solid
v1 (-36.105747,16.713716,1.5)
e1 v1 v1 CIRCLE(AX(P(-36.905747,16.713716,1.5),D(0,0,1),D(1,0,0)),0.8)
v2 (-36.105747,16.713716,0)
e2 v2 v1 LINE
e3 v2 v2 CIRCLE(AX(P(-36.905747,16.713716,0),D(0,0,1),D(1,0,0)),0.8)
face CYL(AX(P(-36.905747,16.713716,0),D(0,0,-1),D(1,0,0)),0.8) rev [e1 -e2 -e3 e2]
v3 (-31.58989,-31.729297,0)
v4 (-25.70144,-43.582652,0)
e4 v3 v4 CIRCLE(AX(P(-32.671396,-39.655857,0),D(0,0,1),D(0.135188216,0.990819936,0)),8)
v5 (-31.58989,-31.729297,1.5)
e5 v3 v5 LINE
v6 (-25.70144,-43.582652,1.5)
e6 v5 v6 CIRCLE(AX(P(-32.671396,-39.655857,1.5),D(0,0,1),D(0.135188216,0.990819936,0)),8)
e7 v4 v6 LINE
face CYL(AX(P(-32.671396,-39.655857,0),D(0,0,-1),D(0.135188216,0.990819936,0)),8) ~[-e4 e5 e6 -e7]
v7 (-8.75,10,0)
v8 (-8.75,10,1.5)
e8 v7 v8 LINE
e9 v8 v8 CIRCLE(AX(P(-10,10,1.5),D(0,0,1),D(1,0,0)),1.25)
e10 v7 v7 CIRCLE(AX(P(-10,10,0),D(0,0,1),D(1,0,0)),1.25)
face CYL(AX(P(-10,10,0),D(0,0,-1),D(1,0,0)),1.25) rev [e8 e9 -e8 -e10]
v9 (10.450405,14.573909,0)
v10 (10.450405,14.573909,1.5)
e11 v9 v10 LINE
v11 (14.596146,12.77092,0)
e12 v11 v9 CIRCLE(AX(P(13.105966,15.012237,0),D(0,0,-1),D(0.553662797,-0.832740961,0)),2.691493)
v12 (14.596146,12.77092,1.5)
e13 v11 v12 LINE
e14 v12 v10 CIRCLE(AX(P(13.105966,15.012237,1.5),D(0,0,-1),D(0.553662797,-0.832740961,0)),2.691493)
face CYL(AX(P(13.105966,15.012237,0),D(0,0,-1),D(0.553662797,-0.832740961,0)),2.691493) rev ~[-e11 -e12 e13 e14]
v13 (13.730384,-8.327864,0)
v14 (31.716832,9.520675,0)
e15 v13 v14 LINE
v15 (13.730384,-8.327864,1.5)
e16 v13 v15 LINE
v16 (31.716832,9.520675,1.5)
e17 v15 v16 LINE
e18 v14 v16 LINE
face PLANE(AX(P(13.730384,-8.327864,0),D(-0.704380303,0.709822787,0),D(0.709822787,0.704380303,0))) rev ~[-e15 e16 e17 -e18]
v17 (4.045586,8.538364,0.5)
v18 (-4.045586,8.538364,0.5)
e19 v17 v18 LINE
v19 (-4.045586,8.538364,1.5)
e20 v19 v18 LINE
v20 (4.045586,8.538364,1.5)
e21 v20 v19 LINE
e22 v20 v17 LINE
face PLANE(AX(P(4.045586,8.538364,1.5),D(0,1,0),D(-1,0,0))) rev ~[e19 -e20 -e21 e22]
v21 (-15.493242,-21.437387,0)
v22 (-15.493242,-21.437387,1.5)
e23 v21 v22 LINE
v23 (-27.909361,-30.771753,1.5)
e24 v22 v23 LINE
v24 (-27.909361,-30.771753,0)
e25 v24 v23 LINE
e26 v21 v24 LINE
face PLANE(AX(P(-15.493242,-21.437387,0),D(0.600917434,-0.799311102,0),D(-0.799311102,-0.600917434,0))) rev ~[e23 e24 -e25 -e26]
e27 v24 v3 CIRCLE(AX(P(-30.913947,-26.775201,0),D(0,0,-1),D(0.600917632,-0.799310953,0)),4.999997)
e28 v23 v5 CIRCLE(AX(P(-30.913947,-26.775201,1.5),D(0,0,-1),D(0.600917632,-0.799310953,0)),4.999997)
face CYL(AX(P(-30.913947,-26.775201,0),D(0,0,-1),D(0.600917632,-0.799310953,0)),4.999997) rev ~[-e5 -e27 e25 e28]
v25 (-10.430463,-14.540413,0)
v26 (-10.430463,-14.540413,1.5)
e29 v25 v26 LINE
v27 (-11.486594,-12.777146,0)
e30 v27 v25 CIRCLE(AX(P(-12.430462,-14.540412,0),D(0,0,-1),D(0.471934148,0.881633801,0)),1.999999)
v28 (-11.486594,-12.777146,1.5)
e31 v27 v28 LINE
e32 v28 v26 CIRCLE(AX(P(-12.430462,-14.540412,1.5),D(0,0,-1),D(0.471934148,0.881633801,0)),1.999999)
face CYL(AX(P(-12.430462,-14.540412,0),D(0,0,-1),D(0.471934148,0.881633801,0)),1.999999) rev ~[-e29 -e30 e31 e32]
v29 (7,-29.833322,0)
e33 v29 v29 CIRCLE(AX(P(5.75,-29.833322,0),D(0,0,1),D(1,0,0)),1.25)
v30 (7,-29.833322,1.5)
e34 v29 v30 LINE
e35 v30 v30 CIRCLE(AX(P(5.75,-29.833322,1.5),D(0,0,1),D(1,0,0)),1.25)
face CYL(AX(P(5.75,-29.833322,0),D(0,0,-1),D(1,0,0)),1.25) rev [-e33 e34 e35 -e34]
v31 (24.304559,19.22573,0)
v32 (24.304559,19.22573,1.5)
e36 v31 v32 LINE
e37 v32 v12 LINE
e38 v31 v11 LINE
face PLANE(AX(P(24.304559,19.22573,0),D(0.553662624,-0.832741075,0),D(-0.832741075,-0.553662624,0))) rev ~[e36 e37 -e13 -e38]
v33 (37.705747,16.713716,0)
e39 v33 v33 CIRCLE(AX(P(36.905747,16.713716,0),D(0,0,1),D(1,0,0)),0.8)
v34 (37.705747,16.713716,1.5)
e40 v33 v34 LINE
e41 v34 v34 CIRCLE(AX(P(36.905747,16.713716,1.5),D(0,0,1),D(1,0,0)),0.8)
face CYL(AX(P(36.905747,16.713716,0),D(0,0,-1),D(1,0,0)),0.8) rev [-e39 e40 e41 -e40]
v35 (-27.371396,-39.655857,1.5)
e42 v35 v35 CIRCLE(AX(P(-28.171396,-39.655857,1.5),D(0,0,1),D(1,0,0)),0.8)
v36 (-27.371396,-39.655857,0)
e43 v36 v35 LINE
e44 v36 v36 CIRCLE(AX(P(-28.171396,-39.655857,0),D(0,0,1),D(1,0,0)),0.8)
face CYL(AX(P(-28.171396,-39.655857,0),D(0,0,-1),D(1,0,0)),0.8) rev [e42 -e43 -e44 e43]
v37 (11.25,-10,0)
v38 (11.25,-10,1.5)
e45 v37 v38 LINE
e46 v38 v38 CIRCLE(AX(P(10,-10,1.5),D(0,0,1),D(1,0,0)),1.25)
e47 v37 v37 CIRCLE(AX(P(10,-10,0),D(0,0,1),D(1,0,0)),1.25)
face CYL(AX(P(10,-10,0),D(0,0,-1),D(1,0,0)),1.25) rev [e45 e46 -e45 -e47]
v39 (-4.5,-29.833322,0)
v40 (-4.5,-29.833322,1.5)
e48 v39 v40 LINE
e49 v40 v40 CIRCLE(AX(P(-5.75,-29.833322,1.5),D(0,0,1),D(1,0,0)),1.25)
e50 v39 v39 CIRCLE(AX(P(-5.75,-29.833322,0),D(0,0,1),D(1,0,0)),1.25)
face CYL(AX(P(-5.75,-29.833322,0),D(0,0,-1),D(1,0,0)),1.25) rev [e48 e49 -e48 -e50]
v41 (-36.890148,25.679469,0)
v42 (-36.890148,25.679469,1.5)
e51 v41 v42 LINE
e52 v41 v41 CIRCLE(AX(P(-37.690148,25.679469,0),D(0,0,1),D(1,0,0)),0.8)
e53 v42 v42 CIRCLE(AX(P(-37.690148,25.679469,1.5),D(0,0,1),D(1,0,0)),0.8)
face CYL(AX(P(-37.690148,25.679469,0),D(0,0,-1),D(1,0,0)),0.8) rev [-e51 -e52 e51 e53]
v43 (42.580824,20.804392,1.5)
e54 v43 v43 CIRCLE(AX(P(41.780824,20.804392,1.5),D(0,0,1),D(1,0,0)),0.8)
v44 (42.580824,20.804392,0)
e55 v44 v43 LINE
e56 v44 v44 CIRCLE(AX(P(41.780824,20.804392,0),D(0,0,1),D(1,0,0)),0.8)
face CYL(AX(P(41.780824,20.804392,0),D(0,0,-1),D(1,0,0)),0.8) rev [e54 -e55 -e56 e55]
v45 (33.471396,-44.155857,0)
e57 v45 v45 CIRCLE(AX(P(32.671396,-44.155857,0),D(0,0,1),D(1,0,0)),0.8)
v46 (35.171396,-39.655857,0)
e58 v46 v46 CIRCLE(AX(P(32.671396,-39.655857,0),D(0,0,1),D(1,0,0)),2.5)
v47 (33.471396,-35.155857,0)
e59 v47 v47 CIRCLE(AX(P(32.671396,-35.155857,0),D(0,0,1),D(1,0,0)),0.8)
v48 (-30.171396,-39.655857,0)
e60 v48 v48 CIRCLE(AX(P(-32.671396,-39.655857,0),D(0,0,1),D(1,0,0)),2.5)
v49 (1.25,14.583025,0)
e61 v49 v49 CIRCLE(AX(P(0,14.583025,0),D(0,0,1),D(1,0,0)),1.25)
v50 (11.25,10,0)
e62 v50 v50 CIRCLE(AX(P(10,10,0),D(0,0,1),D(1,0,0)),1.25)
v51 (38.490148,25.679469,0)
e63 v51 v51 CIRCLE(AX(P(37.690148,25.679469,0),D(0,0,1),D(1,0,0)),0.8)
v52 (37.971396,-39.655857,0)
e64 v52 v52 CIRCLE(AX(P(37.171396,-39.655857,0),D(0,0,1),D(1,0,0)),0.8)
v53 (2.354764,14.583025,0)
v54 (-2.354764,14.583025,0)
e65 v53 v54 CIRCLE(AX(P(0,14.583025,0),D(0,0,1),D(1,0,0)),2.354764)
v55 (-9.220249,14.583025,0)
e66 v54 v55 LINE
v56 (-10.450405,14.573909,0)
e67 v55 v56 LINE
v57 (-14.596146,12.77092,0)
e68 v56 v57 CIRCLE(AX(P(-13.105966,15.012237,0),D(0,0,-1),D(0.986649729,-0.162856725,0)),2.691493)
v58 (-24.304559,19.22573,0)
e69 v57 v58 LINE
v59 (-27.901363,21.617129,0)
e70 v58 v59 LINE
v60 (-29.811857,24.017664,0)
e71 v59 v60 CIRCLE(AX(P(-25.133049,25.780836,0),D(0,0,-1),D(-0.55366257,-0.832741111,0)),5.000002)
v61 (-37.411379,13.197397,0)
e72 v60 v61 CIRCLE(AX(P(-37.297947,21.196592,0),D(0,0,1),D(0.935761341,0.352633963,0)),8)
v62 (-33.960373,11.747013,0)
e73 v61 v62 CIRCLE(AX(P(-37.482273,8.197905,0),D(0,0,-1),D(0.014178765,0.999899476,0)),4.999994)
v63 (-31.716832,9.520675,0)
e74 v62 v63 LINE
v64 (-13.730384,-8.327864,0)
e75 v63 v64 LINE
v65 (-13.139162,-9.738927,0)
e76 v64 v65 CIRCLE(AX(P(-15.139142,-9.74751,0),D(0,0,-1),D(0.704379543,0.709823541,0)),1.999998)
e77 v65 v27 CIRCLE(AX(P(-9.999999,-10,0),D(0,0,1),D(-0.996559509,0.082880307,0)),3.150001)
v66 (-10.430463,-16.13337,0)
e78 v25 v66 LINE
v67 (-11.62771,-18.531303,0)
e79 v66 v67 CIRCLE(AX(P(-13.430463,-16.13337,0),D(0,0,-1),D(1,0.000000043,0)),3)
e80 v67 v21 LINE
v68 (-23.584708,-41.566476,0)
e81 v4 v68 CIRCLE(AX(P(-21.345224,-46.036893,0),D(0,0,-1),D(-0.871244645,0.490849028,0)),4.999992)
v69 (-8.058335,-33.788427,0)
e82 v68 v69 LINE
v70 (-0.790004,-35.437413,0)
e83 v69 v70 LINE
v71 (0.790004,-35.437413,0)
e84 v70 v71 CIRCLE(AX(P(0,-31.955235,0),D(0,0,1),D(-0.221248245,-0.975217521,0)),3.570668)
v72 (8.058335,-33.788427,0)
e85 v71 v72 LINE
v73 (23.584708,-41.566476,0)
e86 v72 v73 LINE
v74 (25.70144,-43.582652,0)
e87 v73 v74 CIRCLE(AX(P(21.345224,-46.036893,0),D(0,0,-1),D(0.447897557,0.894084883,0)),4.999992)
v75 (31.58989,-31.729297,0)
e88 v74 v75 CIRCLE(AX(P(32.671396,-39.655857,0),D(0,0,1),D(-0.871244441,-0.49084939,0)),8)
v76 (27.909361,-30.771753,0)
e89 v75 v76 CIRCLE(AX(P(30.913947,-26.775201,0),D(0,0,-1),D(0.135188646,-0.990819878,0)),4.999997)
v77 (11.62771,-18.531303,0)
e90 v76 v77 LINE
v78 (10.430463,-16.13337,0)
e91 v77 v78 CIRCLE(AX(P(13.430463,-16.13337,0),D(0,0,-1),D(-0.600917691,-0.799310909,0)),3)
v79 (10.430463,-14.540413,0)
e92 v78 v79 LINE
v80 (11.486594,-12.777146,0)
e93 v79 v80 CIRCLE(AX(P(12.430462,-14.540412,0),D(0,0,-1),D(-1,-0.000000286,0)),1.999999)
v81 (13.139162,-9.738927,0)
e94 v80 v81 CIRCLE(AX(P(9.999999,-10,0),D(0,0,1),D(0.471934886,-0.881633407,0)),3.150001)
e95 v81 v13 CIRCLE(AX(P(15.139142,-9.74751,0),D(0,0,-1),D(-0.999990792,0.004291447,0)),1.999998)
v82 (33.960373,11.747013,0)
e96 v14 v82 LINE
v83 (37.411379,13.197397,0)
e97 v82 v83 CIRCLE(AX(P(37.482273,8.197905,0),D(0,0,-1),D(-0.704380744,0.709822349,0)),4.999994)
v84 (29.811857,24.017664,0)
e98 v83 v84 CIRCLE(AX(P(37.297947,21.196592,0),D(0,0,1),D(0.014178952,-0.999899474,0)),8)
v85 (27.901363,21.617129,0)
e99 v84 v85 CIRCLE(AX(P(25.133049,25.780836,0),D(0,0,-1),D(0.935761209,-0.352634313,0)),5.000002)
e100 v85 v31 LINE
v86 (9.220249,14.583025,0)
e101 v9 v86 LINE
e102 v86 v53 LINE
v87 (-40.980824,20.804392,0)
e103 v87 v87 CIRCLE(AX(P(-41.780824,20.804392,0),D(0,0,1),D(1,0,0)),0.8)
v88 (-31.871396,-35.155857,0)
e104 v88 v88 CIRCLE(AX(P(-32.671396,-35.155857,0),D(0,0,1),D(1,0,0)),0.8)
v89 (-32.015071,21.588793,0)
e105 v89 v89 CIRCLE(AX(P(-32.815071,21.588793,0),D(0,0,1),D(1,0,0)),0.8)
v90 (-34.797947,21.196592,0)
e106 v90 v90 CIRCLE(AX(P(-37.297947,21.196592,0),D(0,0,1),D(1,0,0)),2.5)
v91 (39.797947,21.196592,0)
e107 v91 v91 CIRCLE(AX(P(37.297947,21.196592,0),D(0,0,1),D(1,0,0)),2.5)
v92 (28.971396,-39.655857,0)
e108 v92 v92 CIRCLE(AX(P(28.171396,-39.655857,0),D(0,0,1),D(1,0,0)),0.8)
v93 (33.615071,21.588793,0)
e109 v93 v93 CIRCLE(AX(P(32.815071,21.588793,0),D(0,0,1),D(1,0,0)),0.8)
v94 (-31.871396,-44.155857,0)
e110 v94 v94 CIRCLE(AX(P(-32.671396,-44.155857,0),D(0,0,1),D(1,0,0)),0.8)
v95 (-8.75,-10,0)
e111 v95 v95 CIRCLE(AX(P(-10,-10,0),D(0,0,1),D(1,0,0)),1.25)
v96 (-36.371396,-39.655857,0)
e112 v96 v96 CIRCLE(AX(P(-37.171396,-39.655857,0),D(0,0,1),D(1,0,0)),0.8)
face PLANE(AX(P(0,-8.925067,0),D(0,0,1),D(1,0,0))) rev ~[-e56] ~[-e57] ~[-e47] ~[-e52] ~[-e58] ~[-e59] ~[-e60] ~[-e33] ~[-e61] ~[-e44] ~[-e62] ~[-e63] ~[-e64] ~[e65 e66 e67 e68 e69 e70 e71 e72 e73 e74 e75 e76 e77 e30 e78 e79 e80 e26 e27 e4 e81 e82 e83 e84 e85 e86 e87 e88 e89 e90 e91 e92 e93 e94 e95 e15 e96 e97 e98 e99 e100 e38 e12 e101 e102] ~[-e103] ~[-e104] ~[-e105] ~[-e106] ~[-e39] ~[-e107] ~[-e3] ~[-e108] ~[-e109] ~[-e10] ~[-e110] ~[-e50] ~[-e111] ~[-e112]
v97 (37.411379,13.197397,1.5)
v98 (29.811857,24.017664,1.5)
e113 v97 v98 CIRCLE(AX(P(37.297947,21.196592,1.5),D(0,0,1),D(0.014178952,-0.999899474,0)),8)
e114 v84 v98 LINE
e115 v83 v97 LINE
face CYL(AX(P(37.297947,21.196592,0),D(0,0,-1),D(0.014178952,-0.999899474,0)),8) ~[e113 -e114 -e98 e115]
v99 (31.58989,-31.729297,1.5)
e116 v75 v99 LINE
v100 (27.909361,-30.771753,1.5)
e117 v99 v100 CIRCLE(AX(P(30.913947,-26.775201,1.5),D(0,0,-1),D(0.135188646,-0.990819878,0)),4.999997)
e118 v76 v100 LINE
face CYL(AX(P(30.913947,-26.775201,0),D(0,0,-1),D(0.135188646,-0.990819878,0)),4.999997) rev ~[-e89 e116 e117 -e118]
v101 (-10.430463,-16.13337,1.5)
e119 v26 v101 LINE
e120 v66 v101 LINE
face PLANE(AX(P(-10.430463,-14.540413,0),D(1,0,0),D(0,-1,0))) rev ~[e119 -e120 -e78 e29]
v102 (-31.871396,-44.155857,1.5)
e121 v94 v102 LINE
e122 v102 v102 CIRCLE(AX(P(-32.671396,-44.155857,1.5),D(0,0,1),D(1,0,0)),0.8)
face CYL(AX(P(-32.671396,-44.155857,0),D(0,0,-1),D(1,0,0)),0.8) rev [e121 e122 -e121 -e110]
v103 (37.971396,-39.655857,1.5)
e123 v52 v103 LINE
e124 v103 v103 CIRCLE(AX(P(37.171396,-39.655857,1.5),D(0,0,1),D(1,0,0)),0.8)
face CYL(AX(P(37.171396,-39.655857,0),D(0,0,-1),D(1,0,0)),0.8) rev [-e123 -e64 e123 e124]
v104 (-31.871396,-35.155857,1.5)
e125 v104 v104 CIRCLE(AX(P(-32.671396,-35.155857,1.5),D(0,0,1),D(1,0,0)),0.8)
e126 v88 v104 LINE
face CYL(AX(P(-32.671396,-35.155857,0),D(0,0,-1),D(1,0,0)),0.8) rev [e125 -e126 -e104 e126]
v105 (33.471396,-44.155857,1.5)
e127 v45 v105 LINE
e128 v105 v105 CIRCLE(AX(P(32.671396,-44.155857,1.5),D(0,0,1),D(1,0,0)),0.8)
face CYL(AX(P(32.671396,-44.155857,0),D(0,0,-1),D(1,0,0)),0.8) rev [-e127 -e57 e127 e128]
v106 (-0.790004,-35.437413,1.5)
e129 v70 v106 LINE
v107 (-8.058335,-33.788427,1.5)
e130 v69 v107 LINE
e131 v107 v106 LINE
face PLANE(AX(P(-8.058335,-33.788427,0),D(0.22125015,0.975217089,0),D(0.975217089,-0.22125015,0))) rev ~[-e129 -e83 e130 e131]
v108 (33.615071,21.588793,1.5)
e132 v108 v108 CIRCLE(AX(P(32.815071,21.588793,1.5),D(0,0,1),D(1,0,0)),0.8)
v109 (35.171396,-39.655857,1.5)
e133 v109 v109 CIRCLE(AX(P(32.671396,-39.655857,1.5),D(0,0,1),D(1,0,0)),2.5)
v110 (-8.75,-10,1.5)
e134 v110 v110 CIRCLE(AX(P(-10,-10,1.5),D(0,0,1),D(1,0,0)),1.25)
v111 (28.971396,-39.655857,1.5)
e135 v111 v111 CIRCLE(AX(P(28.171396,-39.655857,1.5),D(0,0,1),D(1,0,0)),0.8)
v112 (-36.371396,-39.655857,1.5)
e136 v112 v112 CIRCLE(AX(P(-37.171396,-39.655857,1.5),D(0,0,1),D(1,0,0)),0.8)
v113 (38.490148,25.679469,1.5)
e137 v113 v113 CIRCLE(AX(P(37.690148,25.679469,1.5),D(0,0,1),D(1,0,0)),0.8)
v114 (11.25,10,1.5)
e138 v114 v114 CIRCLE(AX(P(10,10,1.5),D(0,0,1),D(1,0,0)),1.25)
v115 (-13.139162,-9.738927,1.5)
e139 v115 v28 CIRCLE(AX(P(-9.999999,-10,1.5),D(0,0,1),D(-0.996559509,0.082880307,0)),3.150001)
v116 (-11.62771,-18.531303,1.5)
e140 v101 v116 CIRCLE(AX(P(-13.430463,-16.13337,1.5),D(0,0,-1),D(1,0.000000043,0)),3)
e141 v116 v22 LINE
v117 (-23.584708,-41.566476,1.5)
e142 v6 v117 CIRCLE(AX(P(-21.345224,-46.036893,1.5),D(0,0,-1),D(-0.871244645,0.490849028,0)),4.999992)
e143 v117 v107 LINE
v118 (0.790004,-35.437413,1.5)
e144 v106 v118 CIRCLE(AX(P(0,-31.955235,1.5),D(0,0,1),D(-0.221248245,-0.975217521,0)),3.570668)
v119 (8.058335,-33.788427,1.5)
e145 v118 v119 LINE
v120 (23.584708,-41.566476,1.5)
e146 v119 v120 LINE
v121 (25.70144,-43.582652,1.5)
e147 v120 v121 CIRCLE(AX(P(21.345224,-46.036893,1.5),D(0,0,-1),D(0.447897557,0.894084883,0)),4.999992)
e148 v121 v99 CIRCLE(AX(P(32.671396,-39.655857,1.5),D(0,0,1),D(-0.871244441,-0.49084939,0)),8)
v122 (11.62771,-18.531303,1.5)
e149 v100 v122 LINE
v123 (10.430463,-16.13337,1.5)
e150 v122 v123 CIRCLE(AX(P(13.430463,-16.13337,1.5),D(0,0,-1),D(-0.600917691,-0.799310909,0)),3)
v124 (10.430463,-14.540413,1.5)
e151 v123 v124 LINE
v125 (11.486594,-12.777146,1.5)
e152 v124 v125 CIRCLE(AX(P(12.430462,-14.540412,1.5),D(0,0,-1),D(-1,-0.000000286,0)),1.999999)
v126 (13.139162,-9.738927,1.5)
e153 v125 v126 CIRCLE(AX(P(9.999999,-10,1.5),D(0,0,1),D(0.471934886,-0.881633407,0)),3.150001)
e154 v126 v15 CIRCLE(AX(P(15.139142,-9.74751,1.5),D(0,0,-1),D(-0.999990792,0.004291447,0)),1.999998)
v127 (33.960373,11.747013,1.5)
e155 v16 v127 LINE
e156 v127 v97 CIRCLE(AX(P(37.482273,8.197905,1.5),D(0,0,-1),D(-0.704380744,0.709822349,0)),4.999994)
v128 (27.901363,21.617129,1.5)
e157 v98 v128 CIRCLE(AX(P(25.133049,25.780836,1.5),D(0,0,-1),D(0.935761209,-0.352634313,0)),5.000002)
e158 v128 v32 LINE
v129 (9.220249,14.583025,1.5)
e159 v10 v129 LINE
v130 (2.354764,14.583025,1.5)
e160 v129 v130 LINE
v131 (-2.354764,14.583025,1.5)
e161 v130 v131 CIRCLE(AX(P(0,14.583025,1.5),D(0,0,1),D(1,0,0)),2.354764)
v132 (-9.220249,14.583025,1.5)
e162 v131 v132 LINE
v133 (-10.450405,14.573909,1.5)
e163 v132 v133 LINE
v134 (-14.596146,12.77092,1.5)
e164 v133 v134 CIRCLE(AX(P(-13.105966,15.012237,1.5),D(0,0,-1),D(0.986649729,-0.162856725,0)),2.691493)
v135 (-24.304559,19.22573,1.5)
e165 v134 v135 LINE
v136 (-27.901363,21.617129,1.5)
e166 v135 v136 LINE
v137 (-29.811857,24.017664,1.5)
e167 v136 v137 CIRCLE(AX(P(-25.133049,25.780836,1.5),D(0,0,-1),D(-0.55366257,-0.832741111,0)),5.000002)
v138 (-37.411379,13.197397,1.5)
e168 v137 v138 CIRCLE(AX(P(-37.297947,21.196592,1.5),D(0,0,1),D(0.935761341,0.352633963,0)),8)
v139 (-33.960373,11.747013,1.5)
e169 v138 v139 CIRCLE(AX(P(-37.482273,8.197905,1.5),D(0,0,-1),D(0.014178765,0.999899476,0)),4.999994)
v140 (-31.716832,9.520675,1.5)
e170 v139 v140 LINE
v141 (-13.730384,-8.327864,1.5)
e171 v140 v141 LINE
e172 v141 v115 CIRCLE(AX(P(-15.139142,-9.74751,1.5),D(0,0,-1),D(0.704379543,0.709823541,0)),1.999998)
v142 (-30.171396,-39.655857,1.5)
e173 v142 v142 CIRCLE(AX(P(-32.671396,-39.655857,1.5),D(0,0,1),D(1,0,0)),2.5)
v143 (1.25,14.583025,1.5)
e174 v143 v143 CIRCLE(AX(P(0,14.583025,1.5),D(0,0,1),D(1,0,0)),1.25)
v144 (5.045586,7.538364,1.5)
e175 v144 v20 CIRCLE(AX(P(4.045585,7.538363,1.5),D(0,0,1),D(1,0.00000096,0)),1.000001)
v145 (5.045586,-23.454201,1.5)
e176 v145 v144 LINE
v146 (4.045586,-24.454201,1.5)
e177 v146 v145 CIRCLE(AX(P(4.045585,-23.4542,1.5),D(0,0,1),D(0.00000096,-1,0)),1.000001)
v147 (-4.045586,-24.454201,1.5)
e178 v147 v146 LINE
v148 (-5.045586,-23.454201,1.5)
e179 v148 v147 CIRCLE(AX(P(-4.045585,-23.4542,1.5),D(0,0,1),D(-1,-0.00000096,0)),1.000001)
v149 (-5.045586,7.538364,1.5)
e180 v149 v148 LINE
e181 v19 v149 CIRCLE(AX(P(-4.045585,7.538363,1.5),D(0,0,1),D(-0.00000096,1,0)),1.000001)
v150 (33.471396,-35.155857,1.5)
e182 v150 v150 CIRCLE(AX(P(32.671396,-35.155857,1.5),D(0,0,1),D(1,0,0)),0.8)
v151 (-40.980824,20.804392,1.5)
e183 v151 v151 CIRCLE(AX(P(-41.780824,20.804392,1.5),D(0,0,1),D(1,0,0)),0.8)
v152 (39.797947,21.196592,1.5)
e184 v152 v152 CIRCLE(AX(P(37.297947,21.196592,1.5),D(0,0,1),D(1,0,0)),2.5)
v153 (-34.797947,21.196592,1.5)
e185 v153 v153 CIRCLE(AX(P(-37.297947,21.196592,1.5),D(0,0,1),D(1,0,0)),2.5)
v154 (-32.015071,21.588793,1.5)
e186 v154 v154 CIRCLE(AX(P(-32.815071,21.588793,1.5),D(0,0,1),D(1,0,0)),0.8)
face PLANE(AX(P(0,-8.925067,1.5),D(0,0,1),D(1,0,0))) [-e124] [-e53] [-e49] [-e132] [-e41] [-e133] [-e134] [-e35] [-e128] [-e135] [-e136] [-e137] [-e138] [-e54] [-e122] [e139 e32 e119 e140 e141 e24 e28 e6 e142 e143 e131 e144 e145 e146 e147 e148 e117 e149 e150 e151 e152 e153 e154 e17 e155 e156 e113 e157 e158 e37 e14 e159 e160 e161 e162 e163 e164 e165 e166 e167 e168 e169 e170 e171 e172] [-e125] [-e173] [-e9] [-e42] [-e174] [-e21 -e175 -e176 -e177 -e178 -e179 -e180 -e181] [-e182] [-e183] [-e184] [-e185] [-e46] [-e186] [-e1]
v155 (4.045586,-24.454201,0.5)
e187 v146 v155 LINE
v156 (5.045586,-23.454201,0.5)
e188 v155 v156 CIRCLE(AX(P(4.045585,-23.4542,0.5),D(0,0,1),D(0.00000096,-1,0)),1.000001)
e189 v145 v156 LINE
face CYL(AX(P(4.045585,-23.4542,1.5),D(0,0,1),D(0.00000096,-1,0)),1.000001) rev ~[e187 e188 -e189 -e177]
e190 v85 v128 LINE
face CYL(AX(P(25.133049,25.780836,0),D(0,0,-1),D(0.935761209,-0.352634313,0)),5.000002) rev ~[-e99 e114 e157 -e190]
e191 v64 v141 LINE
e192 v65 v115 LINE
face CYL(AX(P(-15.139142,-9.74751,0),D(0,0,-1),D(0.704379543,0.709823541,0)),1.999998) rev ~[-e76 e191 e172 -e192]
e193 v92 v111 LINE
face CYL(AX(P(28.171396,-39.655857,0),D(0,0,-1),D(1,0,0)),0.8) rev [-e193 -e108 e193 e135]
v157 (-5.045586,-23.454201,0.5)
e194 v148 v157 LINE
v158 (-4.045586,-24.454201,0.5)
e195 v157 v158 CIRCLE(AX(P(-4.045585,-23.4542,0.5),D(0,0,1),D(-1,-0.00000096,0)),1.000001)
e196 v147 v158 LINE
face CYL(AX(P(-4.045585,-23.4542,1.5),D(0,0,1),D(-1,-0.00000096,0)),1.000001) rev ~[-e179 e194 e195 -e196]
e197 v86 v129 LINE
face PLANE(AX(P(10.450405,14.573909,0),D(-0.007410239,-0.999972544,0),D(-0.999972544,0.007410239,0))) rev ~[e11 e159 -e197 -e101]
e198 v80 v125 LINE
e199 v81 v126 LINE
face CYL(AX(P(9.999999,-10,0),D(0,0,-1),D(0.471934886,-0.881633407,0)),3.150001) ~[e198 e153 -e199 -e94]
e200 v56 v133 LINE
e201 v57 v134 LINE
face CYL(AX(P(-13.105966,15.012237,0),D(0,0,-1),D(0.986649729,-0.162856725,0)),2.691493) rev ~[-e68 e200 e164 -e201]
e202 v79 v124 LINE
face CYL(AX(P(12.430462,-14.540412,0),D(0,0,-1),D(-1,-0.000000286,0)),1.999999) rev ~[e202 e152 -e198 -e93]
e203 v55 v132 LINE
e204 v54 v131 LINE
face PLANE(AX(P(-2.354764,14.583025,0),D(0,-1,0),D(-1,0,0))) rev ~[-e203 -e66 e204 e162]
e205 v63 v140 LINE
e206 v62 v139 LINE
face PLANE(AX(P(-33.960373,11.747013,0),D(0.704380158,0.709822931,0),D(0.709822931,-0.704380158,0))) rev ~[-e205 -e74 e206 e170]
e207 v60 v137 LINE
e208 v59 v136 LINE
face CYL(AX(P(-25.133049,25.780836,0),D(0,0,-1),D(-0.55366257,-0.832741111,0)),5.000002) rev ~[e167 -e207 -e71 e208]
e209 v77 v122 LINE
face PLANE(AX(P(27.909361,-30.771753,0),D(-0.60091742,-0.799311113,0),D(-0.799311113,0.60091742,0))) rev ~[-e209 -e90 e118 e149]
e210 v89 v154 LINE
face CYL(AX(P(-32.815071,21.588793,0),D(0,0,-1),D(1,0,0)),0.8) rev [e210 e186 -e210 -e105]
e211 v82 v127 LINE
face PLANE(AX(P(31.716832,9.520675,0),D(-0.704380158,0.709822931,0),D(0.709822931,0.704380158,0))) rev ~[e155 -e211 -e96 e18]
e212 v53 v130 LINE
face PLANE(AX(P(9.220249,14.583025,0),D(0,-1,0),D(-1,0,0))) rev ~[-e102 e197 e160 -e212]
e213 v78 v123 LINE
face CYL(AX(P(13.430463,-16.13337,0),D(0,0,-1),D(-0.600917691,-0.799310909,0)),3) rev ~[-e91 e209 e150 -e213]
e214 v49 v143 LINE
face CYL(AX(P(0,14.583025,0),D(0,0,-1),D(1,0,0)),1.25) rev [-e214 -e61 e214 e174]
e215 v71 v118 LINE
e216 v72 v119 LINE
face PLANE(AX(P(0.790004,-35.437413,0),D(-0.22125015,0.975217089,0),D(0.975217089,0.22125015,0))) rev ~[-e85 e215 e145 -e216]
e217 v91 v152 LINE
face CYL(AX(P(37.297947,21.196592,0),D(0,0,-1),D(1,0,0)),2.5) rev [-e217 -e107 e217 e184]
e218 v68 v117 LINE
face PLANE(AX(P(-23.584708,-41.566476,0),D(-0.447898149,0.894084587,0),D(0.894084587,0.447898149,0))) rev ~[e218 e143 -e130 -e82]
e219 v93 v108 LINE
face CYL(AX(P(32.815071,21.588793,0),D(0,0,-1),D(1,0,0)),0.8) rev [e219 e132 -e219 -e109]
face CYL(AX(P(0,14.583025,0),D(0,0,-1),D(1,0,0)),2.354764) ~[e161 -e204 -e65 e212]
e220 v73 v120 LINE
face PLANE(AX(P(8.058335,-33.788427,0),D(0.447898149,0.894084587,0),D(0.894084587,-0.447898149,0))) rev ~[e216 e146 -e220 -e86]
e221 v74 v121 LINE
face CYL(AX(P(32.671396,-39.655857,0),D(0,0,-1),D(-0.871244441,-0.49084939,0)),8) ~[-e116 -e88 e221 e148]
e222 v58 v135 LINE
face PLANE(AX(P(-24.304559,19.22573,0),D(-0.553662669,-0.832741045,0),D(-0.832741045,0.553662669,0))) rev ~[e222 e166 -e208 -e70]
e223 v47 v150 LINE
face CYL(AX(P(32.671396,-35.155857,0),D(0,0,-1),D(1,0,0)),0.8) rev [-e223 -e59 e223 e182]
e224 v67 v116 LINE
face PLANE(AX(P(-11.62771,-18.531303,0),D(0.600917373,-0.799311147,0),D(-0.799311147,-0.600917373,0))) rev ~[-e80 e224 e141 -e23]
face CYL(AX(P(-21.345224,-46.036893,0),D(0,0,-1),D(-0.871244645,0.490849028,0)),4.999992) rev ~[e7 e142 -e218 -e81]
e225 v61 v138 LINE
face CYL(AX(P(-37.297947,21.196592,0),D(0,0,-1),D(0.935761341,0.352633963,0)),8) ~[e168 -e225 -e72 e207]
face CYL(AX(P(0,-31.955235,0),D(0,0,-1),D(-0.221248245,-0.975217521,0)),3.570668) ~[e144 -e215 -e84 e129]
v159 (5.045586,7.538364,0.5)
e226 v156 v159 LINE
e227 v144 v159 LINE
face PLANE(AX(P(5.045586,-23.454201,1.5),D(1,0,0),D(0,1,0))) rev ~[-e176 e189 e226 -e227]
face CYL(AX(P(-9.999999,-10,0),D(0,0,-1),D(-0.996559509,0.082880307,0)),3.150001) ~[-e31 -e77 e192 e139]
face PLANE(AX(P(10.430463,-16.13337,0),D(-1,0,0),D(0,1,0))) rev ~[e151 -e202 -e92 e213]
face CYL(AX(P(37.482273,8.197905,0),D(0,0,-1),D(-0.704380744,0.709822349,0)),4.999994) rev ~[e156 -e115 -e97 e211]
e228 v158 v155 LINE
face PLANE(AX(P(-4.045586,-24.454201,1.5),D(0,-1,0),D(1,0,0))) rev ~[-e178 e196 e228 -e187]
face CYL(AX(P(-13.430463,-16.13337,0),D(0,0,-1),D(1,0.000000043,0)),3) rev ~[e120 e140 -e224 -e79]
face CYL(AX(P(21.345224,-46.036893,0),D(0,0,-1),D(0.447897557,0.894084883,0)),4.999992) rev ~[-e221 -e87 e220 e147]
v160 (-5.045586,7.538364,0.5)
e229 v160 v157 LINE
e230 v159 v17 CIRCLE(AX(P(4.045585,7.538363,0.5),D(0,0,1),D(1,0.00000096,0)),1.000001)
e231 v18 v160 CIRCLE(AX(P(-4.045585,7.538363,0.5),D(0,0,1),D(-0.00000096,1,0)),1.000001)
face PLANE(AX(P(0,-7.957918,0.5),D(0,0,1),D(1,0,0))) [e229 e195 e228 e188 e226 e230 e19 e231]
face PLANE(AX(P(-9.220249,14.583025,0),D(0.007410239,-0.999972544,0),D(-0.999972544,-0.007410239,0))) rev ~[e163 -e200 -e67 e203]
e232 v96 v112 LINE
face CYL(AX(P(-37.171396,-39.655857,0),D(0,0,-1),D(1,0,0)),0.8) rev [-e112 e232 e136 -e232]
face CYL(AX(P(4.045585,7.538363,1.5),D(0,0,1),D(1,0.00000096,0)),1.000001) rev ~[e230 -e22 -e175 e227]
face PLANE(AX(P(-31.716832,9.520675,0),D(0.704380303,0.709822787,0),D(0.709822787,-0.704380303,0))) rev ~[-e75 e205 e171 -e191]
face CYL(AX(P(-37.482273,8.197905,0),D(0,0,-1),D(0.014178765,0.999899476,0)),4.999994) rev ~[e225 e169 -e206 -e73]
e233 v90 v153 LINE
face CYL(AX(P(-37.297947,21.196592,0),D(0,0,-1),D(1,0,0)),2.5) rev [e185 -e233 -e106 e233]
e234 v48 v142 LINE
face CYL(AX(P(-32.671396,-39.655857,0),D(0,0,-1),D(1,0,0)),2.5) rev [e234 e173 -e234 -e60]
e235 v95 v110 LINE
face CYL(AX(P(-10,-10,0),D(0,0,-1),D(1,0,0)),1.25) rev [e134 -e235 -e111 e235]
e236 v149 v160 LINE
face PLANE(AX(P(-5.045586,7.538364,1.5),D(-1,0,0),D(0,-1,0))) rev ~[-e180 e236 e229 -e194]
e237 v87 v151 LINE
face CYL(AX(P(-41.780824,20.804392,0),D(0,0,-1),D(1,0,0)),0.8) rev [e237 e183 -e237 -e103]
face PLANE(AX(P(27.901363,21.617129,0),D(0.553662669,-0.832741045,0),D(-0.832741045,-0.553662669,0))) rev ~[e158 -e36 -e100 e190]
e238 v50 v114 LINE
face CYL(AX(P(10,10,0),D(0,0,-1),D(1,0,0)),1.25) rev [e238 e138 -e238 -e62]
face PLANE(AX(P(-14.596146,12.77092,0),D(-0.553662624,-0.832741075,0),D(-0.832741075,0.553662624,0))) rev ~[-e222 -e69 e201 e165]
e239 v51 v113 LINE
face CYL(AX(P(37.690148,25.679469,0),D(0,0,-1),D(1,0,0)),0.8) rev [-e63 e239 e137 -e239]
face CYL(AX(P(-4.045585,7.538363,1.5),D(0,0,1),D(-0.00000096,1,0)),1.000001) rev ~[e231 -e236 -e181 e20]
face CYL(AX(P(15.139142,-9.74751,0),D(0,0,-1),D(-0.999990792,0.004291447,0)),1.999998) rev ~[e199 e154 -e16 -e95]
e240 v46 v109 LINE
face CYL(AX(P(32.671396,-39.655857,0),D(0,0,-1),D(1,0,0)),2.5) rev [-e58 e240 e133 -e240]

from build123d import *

# Parameters (mm, degrees)
F0_R     = 0.8
F0_R_2   = 2.5
F0_R_3   = 1.25
F1_DEPTH = 1.5
F3_DEPTH = 1


with BuildPart() as f1:
    # F0 (on Top) → F1 (new body)
    with BuildSketch(Plane.XY):
        with BuildLine():
            Line((-31.716832, 9.520675), (-13.730384, -8.327864))
            ThreePointArc((-13.730384, -8.327864), (-13.294515, -8.974629), (-13.139162, -9.738927))
            ThreePointArc((-13.139162, -9.738927), (-12.767146, -11.505125), (-11.486594, -12.777146))
            ThreePointArc((-11.486594, -12.777146), (-10.714692, -13.512731), (-10.430463, -14.540413))
            Line((-10.430463, -14.540413), (-10.430463, -16.13337))
            ThreePointArc((-10.430463, -16.13337), (-10.746412, -17.473471), (-11.62771, -18.531303))
            Line((-11.62771, -18.531303), (-15.493242, -21.437387))
            Line((-15.493242, -21.437387), (-27.909361, -30.771753))
            ThreePointArc((-27.909361, -30.771753), (-29.655032, -31.614116), (-31.58989, -31.729297))
            ThreePointArc((-31.58989, -31.729297), (-39.836032, -43.215069), (-25.70144, -43.582652))
            ThreePointArc((-25.70144, -43.582652), (-24.79371, -42.416415), (-23.584708, -41.566476))
            Line((-23.584708, -41.566476), (-8.058335, -33.788427))
            ThreePointArc((-8.058335, -33.788427), (-7.655382, -33.419748), (-7.506234, -32.894343))
            Line((-7.506234, -32.894343), (-7.506234, -32.096117))
            Line((-7.506234, -32.096117), (-0.518092, -33.32136))
            ThreePointArc((-0.518092, -33.32136), (0, -33.366435), (0.518092, -33.32136))
            Line((0.518092, -33.32136), (7.506234, -32.096117))
            Line((7.506234, -32.096117), (7.506234, -32.894343))
            ThreePointArc((7.506234, -32.894343), (7.655382, -33.419748), (8.058335, -33.788427))
            Line((8.058335, -33.788427), (23.584708, -41.566476))
            ThreePointArc((23.584708, -41.566476), (24.79371, -42.416415), (25.70144, -43.582652))
            ThreePointArc((25.70144, -43.582652), (39.836032, -43.215069), (31.58989, -31.729297))
            ThreePointArc((31.58989, -31.729297), (29.655032, -31.614116), (27.909361, -30.771753))
            Line((27.909361, -30.771753), (11.62771, -18.531303))
            ThreePointArc((11.62771, -18.531303), (10.746412, -17.473471), (10.430463, -16.13337))
            Line((10.430463, -16.13337), (10.430463, -14.540413))
            ThreePointArc((10.430463, -14.540413), (10.714692, -13.512731), (11.486594, -12.777146))
            ThreePointArc((11.486594, -12.777146), (12.767146, -11.505125), (13.139162, -9.738927))
            ThreePointArc((13.139162, -9.738927), (13.294515, -8.974629), (13.730384, -8.327864))
            Line((13.730384, -8.327864), (31.716832, 9.520675))
            Line((31.716832, 9.520675), (33.960373, 11.747013))
            ThreePointArc((33.960373, 11.747013), (35.545021, 12.807352), (37.411379, 13.197397))
            ThreePointArc((37.411379, 13.197397), (43.844593, 25.794573), (29.811857, 24.017664))
            ThreePointArc((29.811857, 24.017664), (29.04528, 22.667242), (27.901363, 21.617129))
            Line((27.901363, 21.617129), (24.304559, 19.22573))
            Line((24.304559, 19.22573), (14.596146, 12.77092))
            ThreePointArc((14.596146, 12.77092), (12.032551, 12.544056), (10.450405, 14.573909))
            Line((10.450405, 14.573909), (9.220249, 14.583025))
            Line((9.220249, 14.583025), (2.354764, 14.583025))
            ThreePointArc((2.354764, 14.583025), (0, 16.937789), (-2.354764, 14.583025))
            Line((-2.354764, 14.583025), (-9.220249, 14.583025))
            Line((-9.220249, 14.583025), (-10.450405, 14.573909))
            ThreePointArc((-10.450405, 14.573909), (-12.032551, 12.544056), (-14.596146, 12.77092))
            Line((-14.596146, 12.77092), (-24.304559, 19.22573))
            Line((-24.304559, 19.22573), (-27.901363, 21.617129))
            ThreePointArc((-27.901363, 21.617129), (-29.04528, 22.667242), (-29.811857, 24.017664))
            ThreePointArc((-29.811857, 24.017664), (-43.844593, 25.794573), (-37.411379, 13.197397))
            ThreePointArc((-37.411379, 13.197397), (-35.545021, 12.807352), (-33.960373, 11.747013))
            Line((-33.960373, 11.747013), (-31.716832, 9.520675))
        make_face()
        with Locations((-37.171396, -39.655857)):
            Circle(F0_R, mode=Mode.SUBTRACT)
        with Locations((-32.671396, -44.155857)):
            Circle(F0_R, mode=Mode.SUBTRACT)
        with Locations((-32.671396, -39.655857)):
            Circle(F0_R_2, mode=Mode.SUBTRACT)
        with Locations((-28.171396, -39.655857)):
            Circle(F0_R, mode=Mode.SUBTRACT)
        with Locations((-32.671396, -35.155857)):
            Circle(F0_R, mode=Mode.SUBTRACT)
        with Locations((-5.75, -29.833322)):
            Circle(F0_R_3, mode=Mode.SUBTRACT)
        with Locations((-10, -10)):
            Circle(F0_R_3, mode=Mode.SUBTRACT)
        with Locations((5.75, -29.833322)):
            Circle(F0_R_3, mode=Mode.SUBTRACT)
        with Locations((32.671396, -44.155857)):
            Circle(F0_R, mode=Mode.SUBTRACT)
        with Locations((28.171396, -39.655857)):
            Circle(F0_R, mode=Mode.SUBTRACT)
        with Locations((32.671396, -39.655857)):
            Circle(F0_R_2, mode=Mode.SUBTRACT)
        with Locations((37.171396, -39.655857)):
            Circle(F0_R, mode=Mode.SUBTRACT)
        with Locations((32.671396, -35.155857)):
            Circle(F0_R, mode=Mode.SUBTRACT)
        with Locations((10, -10)):
            Circle(F0_R_3, mode=Mode.SUBTRACT)
        with Locations((-36.905747, 16.713716)):
            Circle(F0_R, mode=Mode.SUBTRACT)
        with Locations((-41.780824, 20.804392)):
            Circle(F0_R, mode=Mode.SUBTRACT)
        with Locations((-37.297947, 21.196592)):
            Circle(F0_R_2, mode=Mode.SUBTRACT)
        with Locations((-37.690148, 25.679469)):
            Circle(F0_R, mode=Mode.SUBTRACT)
        with Locations((-32.815071, 21.588793)):
            Circle(F0_R, mode=Mode.SUBTRACT)
        with Locations((-10, 10)):
            Circle(F0_R_3, mode=Mode.SUBTRACT)
        with Locations((0, 14.583025)):
            Circle(F0_R_3, mode=Mode.SUBTRACT)
        with Locations((10, 10)):
            Circle(F0_R_3, mode=Mode.SUBTRACT)
        with Locations((36.905747, 16.713716)):
            Circle(F0_R, mode=Mode.SUBTRACT)
        with Locations((32.815071, 21.588793)):
            Circle(F0_R, mode=Mode.SUBTRACT)
        with Locations((37.297947, 21.196592)):
            Circle(F0_R_2, mode=Mode.SUBTRACT)
        with Locations((41.780824, 20.804392)):
            Circle(F0_R, mode=Mode.SUBTRACT)
        with Locations((37.690148, 25.679469)):
            Circle(F0_R, mode=Mode.SUBTRACT)
        with BuildLine():
            ThreePointArc((-7.506234, -32.894343), (-7.655382, -33.419748), (-8.058335, -33.788427))
            Line((-8.058335, -33.788427), (-0.790004, -35.437413))
            ThreePointArc((-0.790004, -35.437413), (0, -35.525903), (0.790004, -35.437413))
            Line((0.790004, -35.437413), (8.058335, -33.788427))
            ThreePointArc((8.058335, -33.788427), (7.655382, -33.419748), (7.506234, -32.894343))
            Line((7.506234, -32.894343), (7.506234, -32.096117))
            Line((7.506234, -32.096117), (0.518092, -33.32136))
            ThreePointArc((0.518092, -33.32136), (0, -33.366435), (-0.518092, -33.32136))
            Line((-0.518092, -33.32136), (-7.506234, -32.096117))
            Line((-7.506234, -32.096117), (-7.506234, -32.894343))
        make_face()
    extrude(amount=F1_DEPTH)

    # F2 (on face) → F3 (cut)
    with BuildSketch(Plane.XY.offset(1.5)):
        with BuildLine():
            Line((-4.045586, -24.454201), (4.045586, -24.454201))
            ThreePointArc((4.045586, -24.454201), (4.752693, -24.161307), (5.045586, -23.454201))
            Line((5.045586, -23.454201), (5.045586, 7.538364))
            ThreePointArc((5.045586, 7.538364), (4.752693, 8.24547), (4.045586, 8.538364))
            Line((4.045586, 8.538364), (-4.045586, 8.538364))
            ThreePointArc((-4.045586, 8.538364), (-4.752693, 8.24547), (-5.045586, 7.538364))
            Line((-5.045586, 7.538364), (-5.045586, -23.454201))
            ThreePointArc((-5.045586, -23.454201), (-4.752693, -24.161307), (-4.045586, -24.454201))
        make_face()
    extrude(amount=-F3_DEPTH, mode=Mode.SUBTRACT)


solid = f1.part
